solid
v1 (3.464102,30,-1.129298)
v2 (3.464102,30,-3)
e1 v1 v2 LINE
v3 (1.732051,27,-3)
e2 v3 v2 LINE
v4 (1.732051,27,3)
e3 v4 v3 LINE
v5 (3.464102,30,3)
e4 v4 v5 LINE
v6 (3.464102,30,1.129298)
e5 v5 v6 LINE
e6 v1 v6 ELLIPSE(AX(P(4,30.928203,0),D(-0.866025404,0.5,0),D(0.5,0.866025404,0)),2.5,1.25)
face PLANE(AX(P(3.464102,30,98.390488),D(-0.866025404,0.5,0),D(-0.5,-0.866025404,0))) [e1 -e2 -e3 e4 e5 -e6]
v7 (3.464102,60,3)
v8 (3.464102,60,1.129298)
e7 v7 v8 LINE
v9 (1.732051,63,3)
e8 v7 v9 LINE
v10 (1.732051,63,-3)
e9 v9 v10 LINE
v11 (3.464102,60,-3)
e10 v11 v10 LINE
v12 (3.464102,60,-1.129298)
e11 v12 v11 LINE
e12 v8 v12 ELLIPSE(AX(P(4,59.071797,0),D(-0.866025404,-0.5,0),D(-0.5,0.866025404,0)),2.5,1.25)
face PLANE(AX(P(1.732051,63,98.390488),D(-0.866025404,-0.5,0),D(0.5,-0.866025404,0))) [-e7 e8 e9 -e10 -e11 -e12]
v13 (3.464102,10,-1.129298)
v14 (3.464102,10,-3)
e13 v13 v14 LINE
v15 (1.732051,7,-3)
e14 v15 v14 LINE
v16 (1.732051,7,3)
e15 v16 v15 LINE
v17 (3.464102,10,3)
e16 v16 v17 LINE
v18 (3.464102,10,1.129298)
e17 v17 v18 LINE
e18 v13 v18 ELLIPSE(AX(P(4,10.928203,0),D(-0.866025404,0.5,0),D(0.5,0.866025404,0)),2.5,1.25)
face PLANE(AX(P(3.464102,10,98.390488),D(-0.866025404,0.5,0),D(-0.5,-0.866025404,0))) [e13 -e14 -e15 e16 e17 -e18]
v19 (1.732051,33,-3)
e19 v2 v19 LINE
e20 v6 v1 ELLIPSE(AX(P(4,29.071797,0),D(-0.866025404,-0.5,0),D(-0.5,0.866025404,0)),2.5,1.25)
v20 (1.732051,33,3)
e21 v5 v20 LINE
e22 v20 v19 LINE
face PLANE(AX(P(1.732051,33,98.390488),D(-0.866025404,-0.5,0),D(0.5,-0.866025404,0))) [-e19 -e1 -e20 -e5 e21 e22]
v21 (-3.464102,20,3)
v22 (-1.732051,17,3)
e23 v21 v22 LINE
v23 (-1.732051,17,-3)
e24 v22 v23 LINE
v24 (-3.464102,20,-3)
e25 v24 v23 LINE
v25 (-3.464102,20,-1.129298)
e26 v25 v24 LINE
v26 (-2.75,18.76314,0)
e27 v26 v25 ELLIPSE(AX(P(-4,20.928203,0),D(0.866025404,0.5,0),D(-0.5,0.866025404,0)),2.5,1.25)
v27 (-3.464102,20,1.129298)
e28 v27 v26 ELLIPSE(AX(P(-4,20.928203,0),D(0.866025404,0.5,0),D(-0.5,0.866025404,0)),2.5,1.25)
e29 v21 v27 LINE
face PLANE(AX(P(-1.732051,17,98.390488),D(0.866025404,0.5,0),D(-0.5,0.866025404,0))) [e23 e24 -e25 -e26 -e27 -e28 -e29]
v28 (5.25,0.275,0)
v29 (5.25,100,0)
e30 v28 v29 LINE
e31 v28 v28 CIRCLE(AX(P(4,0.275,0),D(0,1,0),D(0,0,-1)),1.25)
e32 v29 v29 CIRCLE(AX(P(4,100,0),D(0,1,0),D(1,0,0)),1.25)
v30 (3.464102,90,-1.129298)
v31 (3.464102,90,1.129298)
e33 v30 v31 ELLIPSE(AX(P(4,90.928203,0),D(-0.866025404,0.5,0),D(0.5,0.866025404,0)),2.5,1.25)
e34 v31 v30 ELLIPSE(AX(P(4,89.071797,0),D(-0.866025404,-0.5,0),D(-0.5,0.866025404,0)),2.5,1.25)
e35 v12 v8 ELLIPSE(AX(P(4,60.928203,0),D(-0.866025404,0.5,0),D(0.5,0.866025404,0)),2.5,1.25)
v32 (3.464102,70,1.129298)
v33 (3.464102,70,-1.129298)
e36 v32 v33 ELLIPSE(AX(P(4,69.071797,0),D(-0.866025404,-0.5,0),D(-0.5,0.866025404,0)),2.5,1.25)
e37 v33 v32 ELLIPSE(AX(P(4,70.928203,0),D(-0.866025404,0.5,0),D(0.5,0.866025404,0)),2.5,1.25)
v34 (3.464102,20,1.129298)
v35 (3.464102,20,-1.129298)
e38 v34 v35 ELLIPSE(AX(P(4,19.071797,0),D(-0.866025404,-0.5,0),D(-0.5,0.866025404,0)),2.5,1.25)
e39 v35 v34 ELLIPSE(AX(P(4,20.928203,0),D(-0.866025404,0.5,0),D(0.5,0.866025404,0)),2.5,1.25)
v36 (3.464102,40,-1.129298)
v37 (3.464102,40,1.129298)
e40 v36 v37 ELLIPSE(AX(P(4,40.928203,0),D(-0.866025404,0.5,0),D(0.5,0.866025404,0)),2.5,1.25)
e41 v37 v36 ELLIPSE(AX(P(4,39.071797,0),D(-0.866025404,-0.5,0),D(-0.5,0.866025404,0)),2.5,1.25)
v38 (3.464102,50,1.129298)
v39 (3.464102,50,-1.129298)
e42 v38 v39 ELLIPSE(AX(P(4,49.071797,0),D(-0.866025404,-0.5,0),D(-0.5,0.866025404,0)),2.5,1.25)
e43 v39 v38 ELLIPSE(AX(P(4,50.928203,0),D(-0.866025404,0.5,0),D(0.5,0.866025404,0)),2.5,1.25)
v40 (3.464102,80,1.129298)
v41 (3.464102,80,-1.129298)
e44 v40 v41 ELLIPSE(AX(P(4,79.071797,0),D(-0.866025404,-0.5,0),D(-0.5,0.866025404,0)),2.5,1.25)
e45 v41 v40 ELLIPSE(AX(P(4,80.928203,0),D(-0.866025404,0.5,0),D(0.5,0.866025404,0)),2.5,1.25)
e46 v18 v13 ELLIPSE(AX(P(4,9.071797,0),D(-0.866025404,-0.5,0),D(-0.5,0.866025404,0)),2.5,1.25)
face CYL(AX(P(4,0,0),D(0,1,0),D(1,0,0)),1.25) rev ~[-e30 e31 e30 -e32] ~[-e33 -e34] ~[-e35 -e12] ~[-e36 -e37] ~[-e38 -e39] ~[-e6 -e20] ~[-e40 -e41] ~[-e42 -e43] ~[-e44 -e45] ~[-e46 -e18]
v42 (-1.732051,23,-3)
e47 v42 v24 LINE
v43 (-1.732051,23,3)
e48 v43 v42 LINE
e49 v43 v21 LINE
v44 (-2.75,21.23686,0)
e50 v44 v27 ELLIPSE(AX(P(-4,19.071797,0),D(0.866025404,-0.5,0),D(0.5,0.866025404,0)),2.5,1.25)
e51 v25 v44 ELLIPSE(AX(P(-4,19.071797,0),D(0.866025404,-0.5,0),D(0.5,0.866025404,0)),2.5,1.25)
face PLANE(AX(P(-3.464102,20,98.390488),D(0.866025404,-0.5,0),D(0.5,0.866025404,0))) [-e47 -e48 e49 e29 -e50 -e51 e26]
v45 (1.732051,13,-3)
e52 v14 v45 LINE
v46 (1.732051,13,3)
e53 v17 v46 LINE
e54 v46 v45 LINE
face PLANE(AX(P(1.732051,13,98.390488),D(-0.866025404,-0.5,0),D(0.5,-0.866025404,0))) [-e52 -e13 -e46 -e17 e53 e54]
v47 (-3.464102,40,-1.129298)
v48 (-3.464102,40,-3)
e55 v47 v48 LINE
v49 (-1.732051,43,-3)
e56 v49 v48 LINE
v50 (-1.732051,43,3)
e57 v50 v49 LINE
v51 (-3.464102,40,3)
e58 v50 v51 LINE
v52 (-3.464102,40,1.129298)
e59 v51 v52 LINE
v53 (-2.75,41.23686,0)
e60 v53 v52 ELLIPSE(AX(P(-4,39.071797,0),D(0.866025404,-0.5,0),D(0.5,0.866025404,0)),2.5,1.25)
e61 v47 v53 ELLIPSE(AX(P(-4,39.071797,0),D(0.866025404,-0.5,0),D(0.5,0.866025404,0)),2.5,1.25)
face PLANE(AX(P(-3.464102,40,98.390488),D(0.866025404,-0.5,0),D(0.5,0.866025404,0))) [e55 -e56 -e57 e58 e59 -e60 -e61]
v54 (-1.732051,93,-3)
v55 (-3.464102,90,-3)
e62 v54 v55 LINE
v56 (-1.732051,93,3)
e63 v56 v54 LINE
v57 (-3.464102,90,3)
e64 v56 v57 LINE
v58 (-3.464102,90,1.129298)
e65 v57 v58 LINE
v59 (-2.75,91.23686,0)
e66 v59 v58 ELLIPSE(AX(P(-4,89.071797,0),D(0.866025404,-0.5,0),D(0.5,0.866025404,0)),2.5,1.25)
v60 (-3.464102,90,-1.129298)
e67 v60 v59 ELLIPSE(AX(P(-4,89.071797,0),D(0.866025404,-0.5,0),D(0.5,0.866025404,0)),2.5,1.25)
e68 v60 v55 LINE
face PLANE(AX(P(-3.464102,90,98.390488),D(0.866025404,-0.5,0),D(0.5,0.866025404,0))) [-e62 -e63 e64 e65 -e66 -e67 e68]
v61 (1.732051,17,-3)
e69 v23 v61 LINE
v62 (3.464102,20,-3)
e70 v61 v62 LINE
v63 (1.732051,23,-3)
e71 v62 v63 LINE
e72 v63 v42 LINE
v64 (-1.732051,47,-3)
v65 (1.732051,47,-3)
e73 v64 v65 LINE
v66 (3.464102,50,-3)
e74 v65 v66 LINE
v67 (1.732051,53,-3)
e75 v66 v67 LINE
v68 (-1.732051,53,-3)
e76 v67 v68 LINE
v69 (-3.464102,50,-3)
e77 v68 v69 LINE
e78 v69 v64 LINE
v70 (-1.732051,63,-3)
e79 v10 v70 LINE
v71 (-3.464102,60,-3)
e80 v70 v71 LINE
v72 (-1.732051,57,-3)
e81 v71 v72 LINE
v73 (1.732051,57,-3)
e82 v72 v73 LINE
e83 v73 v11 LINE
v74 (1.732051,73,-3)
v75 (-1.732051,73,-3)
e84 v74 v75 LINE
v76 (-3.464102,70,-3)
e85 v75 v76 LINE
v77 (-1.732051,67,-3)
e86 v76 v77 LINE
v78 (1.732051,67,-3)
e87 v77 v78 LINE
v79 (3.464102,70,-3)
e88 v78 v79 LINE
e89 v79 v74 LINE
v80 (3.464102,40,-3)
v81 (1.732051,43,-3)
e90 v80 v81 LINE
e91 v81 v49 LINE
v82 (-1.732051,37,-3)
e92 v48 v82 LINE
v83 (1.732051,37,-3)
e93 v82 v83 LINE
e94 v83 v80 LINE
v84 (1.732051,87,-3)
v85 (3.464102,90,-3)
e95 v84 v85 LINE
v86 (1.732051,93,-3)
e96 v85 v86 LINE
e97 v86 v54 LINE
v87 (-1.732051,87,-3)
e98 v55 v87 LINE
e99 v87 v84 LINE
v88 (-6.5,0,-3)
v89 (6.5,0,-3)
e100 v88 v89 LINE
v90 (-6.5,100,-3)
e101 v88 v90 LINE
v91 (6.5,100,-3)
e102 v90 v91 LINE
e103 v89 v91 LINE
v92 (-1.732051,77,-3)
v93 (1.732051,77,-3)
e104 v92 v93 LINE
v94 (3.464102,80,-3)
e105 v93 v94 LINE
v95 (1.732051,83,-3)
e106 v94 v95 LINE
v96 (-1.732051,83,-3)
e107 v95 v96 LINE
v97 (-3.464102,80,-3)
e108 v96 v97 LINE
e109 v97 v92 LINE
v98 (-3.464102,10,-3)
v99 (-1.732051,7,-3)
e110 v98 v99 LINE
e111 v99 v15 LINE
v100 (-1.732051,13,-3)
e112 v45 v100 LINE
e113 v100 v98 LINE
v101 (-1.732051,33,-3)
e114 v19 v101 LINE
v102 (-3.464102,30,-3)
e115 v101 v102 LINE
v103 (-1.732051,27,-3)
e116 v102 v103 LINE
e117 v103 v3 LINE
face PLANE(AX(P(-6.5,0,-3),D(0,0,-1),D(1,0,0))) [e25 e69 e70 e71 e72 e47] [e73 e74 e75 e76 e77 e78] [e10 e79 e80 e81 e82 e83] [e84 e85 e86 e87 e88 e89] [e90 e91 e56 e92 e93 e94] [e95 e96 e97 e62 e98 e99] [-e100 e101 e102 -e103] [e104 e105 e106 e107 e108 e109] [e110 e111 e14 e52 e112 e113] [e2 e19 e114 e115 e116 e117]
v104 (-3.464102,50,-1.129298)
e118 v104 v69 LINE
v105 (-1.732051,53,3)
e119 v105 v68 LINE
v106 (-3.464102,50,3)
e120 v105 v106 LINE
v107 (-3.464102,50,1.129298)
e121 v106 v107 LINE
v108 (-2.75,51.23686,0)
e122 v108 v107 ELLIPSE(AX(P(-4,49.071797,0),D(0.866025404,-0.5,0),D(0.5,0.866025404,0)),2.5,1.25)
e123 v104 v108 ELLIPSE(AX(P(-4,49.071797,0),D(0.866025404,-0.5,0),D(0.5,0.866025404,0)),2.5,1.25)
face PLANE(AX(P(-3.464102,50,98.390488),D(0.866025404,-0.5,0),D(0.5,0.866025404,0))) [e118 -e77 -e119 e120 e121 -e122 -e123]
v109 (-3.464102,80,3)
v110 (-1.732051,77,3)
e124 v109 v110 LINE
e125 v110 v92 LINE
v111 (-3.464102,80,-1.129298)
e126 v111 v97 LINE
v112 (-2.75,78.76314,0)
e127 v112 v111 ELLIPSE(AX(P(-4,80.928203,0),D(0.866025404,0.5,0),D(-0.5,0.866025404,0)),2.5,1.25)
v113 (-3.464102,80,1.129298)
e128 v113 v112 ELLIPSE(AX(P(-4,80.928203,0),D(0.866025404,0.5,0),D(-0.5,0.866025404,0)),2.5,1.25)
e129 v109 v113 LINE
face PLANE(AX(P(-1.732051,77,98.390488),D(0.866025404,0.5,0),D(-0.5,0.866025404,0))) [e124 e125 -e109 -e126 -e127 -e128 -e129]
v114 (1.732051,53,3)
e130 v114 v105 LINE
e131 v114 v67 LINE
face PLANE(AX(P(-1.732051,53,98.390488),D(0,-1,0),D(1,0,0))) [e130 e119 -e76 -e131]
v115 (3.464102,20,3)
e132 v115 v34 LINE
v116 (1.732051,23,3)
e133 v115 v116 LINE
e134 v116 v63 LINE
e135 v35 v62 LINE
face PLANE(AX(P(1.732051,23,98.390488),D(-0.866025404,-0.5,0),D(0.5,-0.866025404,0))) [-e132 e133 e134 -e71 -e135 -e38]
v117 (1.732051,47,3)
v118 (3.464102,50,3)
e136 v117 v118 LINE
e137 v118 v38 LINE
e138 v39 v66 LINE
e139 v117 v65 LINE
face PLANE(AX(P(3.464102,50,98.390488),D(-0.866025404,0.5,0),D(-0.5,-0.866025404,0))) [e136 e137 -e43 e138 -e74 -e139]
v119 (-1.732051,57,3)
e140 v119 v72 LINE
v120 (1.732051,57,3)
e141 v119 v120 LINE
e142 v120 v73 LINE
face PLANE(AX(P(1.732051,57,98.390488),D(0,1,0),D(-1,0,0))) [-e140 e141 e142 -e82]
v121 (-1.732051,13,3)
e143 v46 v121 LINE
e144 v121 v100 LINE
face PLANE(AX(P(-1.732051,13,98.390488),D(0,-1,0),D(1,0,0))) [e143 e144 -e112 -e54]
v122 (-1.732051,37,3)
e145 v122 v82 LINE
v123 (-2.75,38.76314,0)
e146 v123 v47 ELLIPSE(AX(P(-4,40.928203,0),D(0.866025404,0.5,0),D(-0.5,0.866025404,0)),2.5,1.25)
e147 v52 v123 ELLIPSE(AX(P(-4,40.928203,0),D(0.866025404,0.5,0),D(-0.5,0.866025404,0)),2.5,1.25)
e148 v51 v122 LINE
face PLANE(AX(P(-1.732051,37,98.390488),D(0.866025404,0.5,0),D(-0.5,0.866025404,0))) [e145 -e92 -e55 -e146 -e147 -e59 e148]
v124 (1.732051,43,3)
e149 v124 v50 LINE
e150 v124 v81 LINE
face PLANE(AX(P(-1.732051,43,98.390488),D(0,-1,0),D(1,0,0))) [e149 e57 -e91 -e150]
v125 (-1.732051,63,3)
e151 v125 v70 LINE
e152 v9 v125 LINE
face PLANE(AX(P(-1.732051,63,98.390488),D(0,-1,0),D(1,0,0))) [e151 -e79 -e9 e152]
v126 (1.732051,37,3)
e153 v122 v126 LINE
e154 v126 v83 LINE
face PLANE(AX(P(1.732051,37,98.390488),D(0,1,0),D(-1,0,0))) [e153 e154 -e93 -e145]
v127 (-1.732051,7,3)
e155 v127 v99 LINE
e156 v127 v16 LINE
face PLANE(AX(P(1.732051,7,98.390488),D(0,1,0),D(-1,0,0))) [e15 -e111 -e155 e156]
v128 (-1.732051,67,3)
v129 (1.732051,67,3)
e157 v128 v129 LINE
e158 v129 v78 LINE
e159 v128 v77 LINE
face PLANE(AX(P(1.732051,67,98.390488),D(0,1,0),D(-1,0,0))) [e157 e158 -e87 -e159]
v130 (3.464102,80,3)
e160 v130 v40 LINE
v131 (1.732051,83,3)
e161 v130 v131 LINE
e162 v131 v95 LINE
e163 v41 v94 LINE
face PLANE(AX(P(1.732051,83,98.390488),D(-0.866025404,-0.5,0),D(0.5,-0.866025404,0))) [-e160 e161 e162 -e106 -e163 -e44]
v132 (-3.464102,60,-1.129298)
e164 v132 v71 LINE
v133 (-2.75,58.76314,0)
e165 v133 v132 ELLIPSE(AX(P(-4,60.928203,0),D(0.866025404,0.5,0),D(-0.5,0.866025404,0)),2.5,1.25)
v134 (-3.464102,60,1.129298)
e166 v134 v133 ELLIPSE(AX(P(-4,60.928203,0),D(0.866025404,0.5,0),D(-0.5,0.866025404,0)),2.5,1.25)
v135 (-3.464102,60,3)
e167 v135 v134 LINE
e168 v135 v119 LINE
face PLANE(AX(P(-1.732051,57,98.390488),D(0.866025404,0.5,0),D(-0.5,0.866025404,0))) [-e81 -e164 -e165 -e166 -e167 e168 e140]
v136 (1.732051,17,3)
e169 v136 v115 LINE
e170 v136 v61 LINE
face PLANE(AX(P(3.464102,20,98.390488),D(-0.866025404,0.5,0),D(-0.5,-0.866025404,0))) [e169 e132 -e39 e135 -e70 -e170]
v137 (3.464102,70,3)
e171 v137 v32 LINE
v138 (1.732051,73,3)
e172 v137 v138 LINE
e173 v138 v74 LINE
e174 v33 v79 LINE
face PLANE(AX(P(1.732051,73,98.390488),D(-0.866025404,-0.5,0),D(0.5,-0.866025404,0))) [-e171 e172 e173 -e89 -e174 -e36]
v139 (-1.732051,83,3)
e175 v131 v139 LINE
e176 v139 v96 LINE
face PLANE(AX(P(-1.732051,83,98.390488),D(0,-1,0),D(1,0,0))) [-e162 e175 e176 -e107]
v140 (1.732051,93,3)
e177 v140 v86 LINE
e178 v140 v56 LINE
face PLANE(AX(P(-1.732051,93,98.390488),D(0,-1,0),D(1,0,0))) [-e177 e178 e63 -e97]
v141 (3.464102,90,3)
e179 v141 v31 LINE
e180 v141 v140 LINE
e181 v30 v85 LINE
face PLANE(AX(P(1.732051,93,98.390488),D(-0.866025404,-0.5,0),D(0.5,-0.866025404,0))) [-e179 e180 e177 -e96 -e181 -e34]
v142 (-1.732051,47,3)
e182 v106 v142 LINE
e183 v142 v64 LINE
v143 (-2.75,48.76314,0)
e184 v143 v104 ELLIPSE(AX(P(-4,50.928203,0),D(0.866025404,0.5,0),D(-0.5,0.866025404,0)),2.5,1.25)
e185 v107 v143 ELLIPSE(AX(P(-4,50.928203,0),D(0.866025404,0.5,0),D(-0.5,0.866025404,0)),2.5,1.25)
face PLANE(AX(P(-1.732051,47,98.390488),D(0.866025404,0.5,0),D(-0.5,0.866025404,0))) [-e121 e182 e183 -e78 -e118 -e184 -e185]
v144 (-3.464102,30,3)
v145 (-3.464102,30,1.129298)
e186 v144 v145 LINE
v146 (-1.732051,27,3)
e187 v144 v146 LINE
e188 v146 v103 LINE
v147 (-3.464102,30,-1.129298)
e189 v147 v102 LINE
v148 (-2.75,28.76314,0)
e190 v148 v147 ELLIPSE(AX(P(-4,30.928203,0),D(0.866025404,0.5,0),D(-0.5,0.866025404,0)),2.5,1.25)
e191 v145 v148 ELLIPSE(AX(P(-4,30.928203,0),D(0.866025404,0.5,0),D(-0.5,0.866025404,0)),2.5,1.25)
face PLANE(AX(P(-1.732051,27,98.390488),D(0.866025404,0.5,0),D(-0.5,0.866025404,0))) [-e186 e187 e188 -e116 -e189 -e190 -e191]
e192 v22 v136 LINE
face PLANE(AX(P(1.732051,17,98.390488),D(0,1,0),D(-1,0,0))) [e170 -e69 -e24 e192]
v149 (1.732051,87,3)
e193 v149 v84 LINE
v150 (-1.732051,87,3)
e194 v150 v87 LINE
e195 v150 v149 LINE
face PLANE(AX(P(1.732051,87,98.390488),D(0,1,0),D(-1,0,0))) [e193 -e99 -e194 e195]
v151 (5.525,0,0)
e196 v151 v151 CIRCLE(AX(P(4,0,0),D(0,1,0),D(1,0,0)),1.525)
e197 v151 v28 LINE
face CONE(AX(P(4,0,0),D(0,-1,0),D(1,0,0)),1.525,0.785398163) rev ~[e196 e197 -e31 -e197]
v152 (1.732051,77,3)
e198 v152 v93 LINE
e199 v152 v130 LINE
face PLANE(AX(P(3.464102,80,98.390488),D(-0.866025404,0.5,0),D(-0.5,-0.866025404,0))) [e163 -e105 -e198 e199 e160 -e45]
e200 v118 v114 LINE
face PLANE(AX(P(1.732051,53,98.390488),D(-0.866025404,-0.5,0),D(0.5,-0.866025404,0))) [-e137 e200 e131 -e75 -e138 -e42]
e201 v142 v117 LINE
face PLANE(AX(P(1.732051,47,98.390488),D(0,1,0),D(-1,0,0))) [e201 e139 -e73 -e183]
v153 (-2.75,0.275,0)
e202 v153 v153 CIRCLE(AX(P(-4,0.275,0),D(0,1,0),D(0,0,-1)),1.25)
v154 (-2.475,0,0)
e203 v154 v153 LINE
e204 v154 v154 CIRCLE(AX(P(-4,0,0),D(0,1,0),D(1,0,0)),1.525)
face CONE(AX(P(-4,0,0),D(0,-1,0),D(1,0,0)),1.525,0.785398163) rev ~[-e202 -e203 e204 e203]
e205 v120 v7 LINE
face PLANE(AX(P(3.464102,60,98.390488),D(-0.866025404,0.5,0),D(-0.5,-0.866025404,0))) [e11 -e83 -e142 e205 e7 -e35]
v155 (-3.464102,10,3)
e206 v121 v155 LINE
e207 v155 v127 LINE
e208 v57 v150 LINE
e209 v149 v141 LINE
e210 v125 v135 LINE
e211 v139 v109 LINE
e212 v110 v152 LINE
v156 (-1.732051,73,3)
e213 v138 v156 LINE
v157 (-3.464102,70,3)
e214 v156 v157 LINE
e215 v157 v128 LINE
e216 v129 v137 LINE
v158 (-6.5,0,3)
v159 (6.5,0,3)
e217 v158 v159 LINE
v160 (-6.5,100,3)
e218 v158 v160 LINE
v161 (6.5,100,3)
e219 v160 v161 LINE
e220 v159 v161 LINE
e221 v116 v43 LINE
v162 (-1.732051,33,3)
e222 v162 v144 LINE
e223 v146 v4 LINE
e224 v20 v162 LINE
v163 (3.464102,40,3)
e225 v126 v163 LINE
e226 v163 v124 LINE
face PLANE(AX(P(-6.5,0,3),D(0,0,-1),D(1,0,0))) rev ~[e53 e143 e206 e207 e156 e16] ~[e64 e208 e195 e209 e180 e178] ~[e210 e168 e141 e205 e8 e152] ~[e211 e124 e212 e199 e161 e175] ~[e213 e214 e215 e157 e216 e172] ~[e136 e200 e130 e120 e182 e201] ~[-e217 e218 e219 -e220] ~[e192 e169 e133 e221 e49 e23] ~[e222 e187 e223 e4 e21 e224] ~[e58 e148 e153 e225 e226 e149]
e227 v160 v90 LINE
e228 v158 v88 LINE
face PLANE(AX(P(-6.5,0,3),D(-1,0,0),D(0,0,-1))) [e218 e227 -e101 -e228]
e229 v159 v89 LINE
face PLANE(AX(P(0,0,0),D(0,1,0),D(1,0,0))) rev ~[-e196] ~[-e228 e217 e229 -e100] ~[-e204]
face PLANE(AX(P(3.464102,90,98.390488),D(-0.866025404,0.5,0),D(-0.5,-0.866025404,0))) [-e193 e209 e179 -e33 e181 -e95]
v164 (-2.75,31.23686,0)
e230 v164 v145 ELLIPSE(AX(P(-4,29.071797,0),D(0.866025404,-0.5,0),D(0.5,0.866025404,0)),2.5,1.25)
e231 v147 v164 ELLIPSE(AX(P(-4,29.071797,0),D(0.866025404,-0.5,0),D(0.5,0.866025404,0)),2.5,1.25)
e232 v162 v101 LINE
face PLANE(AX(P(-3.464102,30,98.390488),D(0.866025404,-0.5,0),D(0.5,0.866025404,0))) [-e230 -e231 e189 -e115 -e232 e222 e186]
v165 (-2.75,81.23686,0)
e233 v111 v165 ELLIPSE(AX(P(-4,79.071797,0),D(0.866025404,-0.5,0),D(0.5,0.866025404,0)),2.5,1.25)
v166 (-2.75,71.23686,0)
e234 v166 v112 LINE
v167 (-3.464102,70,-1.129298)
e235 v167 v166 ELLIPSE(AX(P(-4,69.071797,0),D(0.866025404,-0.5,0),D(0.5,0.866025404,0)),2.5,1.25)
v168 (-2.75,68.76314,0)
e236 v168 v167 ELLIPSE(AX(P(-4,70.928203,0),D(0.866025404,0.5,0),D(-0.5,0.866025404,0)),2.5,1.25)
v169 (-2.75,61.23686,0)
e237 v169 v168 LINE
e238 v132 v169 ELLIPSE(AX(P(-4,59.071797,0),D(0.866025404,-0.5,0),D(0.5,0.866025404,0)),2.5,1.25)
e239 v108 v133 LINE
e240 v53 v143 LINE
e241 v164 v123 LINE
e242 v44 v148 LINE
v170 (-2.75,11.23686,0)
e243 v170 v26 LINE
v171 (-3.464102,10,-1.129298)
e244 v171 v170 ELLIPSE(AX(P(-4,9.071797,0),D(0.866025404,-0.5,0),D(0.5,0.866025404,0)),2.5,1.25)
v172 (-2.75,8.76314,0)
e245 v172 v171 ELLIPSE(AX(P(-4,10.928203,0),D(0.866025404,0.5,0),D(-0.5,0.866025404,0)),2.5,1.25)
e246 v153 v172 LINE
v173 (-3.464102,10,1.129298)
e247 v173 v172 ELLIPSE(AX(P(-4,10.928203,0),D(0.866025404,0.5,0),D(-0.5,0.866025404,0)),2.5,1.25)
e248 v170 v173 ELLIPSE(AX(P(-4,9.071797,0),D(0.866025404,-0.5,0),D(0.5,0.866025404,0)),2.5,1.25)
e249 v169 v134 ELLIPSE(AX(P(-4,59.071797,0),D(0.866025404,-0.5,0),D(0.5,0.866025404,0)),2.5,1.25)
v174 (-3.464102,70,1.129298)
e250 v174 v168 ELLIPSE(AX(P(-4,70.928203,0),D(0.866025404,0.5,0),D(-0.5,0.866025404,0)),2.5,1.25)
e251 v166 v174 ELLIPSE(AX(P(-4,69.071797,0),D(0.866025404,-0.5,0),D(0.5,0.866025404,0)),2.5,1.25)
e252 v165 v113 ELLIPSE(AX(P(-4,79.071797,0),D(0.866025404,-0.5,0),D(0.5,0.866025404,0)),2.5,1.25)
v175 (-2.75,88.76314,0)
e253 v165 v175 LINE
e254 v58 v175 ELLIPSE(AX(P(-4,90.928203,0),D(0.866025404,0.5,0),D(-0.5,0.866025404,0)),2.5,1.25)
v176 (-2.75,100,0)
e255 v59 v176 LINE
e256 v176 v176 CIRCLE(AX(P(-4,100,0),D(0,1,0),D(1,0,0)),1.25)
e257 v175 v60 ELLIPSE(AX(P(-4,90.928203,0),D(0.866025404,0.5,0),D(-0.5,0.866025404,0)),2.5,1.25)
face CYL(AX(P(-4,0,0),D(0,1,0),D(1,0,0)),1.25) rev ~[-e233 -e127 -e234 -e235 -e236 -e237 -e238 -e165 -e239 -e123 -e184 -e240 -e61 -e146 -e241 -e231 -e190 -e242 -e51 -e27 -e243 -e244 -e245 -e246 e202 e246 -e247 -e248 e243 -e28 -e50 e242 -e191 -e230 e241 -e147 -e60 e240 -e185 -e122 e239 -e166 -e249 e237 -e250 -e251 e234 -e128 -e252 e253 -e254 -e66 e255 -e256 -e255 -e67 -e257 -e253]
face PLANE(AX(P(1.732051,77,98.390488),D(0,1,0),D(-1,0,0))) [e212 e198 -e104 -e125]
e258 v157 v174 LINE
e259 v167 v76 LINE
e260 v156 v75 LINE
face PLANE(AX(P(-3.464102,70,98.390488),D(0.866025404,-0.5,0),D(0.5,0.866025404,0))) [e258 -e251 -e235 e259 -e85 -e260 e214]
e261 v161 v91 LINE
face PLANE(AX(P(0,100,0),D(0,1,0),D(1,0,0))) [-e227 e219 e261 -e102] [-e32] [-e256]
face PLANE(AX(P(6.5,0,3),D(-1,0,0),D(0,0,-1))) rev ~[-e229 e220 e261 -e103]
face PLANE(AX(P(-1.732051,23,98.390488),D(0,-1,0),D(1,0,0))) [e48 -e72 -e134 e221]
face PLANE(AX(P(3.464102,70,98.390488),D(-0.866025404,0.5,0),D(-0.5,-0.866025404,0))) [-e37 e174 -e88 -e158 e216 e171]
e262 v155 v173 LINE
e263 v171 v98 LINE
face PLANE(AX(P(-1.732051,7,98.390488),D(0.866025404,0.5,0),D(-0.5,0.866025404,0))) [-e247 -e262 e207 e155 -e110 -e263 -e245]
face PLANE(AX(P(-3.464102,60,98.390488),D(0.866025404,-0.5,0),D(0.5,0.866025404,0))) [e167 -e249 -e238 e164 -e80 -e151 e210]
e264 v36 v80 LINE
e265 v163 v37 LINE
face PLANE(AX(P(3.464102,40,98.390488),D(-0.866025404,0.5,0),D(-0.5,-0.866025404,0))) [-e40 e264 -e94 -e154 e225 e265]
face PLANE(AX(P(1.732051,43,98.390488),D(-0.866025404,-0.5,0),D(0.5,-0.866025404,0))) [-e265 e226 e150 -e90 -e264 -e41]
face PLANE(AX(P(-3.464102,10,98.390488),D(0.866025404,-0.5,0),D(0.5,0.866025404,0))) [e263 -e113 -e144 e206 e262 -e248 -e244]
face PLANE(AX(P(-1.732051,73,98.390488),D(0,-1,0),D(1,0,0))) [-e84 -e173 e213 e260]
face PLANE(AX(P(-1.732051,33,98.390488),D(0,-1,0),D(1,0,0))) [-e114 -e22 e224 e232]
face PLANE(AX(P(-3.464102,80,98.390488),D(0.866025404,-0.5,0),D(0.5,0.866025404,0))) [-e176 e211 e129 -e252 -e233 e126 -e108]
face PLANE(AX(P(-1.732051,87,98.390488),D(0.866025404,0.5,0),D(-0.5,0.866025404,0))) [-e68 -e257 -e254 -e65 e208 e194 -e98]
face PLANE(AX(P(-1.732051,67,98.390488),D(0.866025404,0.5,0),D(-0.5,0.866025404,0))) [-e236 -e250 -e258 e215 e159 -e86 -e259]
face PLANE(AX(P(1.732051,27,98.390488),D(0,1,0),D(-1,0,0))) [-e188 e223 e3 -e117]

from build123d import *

# Parameters (mm, degrees)
SKETCH_1_W                   = 13
SKETCH_1_H                   = 6
EXTRUDE_1_DEPTH              = 100
CUT_EXTRUDE_1_DEPTH          = 101.390487597
CUT_EXTRUDE_1_DEPTH_BACK     = 101.390487597
HOLE_WIZARD_M3_1_D           = 2.5
HOLE_WIZARD_M3_1_CSINK_D     = 3.05
HOLE_WIZARD_M3_1_CSINK_ANGLE = 90


with BuildPart() as part:
    # 草图1 → 凸台-拉伸1 (new body)
    with BuildSketch(Plane(origin=(0, 0, 0), x_dir=(1, 0, 0), z_dir=(0, 1, 0))):
        Rectangle(SKETCH_1_W, SKETCH_1_H)
    extrude(amount=EXTRUDE_1_DEPTH)

    # 草图2 → 切除-拉伸1 (cut, two sides: drawn at the far end of the back side and taken through both)
    with BuildSketch(Plane(origin=(0, 0, -3), x_dir=(-1, 0, 0), z_dir=(0, 0, -1)).offset(-CUT_EXTRUDE_1_DEPTH_BACK)):
        Polygon((-1.732050808, 13), (-3.464101615, 10), (-1.732050808, 7), (1.732050808, 7), (3.464101615, 10), (1.732050808, 13), align=None)
        Polygon((-1.732050808, 23), (-3.464101615, 20), (-1.732050808, 17), (1.732050808, 17), (3.464101615, 20), (1.732050808, 23), align=None)
        Polygon((-1.732050808, 33), (-3.464101615, 30), (-1.732050808, 27), (1.732050808, 27), (3.464101615, 30), (1.732050808, 33), align=None)
        Polygon((-1.732050808, 43), (-3.464101615, 40), (-1.732050808, 37), (1.732050808, 37), (3.464101615, 40), (1.732050808, 43), align=None)
        Polygon((-1.732050808, 53), (-3.464101615, 50), (-1.732050808, 47), (1.732050808, 47), (3.464101615, 50), (1.732050808, 53), align=None)
        Polygon((-1.732050808, 63), (-3.464101615, 60), (-1.732050808, 57), (1.732050808, 57), (3.464101615, 60), (1.732050808, 63), align=None)
        Polygon((-1.732050808, 73), (-3.464101615, 70), (-1.732050808, 67), (1.732050808, 67), (3.464101615, 70), (1.732050808, 73), align=None)
        Polygon((-1.732050808, 83), (-3.464101615, 80), (-1.732050808, 77), (1.732050808, 77), (3.464101615, 80), (1.732050808, 83), align=None)
        Polygon((-1.732050808, 93), (-3.464101615, 90), (-1.732050808, 87), (1.732050808, 87), (3.464101615, 90), (1.732050808, 93), align=None)
    extrude(amount=CUT_EXTRUDE_1_DEPTH + CUT_EXTRUDE_1_DEPTH_BACK, mode=Mode.SUBTRACT)

    # M3 螺纹孔1 (through all)
    with Locations(Plane(origin=(0, 0, 0), x_dir=(-1, 0, 0), z_dir=(0, -1, 0))):
        with Locations((4, 0), (-4, 0)):
            CounterSinkHole(HOLE_WIZARD_M3_1_D / 2, HOLE_WIZARD_M3_1_CSINK_D / 2, counter_sink_angle=HOLE_WIZARD_M3_1_CSINK_ANGLE)


solid = part.part
